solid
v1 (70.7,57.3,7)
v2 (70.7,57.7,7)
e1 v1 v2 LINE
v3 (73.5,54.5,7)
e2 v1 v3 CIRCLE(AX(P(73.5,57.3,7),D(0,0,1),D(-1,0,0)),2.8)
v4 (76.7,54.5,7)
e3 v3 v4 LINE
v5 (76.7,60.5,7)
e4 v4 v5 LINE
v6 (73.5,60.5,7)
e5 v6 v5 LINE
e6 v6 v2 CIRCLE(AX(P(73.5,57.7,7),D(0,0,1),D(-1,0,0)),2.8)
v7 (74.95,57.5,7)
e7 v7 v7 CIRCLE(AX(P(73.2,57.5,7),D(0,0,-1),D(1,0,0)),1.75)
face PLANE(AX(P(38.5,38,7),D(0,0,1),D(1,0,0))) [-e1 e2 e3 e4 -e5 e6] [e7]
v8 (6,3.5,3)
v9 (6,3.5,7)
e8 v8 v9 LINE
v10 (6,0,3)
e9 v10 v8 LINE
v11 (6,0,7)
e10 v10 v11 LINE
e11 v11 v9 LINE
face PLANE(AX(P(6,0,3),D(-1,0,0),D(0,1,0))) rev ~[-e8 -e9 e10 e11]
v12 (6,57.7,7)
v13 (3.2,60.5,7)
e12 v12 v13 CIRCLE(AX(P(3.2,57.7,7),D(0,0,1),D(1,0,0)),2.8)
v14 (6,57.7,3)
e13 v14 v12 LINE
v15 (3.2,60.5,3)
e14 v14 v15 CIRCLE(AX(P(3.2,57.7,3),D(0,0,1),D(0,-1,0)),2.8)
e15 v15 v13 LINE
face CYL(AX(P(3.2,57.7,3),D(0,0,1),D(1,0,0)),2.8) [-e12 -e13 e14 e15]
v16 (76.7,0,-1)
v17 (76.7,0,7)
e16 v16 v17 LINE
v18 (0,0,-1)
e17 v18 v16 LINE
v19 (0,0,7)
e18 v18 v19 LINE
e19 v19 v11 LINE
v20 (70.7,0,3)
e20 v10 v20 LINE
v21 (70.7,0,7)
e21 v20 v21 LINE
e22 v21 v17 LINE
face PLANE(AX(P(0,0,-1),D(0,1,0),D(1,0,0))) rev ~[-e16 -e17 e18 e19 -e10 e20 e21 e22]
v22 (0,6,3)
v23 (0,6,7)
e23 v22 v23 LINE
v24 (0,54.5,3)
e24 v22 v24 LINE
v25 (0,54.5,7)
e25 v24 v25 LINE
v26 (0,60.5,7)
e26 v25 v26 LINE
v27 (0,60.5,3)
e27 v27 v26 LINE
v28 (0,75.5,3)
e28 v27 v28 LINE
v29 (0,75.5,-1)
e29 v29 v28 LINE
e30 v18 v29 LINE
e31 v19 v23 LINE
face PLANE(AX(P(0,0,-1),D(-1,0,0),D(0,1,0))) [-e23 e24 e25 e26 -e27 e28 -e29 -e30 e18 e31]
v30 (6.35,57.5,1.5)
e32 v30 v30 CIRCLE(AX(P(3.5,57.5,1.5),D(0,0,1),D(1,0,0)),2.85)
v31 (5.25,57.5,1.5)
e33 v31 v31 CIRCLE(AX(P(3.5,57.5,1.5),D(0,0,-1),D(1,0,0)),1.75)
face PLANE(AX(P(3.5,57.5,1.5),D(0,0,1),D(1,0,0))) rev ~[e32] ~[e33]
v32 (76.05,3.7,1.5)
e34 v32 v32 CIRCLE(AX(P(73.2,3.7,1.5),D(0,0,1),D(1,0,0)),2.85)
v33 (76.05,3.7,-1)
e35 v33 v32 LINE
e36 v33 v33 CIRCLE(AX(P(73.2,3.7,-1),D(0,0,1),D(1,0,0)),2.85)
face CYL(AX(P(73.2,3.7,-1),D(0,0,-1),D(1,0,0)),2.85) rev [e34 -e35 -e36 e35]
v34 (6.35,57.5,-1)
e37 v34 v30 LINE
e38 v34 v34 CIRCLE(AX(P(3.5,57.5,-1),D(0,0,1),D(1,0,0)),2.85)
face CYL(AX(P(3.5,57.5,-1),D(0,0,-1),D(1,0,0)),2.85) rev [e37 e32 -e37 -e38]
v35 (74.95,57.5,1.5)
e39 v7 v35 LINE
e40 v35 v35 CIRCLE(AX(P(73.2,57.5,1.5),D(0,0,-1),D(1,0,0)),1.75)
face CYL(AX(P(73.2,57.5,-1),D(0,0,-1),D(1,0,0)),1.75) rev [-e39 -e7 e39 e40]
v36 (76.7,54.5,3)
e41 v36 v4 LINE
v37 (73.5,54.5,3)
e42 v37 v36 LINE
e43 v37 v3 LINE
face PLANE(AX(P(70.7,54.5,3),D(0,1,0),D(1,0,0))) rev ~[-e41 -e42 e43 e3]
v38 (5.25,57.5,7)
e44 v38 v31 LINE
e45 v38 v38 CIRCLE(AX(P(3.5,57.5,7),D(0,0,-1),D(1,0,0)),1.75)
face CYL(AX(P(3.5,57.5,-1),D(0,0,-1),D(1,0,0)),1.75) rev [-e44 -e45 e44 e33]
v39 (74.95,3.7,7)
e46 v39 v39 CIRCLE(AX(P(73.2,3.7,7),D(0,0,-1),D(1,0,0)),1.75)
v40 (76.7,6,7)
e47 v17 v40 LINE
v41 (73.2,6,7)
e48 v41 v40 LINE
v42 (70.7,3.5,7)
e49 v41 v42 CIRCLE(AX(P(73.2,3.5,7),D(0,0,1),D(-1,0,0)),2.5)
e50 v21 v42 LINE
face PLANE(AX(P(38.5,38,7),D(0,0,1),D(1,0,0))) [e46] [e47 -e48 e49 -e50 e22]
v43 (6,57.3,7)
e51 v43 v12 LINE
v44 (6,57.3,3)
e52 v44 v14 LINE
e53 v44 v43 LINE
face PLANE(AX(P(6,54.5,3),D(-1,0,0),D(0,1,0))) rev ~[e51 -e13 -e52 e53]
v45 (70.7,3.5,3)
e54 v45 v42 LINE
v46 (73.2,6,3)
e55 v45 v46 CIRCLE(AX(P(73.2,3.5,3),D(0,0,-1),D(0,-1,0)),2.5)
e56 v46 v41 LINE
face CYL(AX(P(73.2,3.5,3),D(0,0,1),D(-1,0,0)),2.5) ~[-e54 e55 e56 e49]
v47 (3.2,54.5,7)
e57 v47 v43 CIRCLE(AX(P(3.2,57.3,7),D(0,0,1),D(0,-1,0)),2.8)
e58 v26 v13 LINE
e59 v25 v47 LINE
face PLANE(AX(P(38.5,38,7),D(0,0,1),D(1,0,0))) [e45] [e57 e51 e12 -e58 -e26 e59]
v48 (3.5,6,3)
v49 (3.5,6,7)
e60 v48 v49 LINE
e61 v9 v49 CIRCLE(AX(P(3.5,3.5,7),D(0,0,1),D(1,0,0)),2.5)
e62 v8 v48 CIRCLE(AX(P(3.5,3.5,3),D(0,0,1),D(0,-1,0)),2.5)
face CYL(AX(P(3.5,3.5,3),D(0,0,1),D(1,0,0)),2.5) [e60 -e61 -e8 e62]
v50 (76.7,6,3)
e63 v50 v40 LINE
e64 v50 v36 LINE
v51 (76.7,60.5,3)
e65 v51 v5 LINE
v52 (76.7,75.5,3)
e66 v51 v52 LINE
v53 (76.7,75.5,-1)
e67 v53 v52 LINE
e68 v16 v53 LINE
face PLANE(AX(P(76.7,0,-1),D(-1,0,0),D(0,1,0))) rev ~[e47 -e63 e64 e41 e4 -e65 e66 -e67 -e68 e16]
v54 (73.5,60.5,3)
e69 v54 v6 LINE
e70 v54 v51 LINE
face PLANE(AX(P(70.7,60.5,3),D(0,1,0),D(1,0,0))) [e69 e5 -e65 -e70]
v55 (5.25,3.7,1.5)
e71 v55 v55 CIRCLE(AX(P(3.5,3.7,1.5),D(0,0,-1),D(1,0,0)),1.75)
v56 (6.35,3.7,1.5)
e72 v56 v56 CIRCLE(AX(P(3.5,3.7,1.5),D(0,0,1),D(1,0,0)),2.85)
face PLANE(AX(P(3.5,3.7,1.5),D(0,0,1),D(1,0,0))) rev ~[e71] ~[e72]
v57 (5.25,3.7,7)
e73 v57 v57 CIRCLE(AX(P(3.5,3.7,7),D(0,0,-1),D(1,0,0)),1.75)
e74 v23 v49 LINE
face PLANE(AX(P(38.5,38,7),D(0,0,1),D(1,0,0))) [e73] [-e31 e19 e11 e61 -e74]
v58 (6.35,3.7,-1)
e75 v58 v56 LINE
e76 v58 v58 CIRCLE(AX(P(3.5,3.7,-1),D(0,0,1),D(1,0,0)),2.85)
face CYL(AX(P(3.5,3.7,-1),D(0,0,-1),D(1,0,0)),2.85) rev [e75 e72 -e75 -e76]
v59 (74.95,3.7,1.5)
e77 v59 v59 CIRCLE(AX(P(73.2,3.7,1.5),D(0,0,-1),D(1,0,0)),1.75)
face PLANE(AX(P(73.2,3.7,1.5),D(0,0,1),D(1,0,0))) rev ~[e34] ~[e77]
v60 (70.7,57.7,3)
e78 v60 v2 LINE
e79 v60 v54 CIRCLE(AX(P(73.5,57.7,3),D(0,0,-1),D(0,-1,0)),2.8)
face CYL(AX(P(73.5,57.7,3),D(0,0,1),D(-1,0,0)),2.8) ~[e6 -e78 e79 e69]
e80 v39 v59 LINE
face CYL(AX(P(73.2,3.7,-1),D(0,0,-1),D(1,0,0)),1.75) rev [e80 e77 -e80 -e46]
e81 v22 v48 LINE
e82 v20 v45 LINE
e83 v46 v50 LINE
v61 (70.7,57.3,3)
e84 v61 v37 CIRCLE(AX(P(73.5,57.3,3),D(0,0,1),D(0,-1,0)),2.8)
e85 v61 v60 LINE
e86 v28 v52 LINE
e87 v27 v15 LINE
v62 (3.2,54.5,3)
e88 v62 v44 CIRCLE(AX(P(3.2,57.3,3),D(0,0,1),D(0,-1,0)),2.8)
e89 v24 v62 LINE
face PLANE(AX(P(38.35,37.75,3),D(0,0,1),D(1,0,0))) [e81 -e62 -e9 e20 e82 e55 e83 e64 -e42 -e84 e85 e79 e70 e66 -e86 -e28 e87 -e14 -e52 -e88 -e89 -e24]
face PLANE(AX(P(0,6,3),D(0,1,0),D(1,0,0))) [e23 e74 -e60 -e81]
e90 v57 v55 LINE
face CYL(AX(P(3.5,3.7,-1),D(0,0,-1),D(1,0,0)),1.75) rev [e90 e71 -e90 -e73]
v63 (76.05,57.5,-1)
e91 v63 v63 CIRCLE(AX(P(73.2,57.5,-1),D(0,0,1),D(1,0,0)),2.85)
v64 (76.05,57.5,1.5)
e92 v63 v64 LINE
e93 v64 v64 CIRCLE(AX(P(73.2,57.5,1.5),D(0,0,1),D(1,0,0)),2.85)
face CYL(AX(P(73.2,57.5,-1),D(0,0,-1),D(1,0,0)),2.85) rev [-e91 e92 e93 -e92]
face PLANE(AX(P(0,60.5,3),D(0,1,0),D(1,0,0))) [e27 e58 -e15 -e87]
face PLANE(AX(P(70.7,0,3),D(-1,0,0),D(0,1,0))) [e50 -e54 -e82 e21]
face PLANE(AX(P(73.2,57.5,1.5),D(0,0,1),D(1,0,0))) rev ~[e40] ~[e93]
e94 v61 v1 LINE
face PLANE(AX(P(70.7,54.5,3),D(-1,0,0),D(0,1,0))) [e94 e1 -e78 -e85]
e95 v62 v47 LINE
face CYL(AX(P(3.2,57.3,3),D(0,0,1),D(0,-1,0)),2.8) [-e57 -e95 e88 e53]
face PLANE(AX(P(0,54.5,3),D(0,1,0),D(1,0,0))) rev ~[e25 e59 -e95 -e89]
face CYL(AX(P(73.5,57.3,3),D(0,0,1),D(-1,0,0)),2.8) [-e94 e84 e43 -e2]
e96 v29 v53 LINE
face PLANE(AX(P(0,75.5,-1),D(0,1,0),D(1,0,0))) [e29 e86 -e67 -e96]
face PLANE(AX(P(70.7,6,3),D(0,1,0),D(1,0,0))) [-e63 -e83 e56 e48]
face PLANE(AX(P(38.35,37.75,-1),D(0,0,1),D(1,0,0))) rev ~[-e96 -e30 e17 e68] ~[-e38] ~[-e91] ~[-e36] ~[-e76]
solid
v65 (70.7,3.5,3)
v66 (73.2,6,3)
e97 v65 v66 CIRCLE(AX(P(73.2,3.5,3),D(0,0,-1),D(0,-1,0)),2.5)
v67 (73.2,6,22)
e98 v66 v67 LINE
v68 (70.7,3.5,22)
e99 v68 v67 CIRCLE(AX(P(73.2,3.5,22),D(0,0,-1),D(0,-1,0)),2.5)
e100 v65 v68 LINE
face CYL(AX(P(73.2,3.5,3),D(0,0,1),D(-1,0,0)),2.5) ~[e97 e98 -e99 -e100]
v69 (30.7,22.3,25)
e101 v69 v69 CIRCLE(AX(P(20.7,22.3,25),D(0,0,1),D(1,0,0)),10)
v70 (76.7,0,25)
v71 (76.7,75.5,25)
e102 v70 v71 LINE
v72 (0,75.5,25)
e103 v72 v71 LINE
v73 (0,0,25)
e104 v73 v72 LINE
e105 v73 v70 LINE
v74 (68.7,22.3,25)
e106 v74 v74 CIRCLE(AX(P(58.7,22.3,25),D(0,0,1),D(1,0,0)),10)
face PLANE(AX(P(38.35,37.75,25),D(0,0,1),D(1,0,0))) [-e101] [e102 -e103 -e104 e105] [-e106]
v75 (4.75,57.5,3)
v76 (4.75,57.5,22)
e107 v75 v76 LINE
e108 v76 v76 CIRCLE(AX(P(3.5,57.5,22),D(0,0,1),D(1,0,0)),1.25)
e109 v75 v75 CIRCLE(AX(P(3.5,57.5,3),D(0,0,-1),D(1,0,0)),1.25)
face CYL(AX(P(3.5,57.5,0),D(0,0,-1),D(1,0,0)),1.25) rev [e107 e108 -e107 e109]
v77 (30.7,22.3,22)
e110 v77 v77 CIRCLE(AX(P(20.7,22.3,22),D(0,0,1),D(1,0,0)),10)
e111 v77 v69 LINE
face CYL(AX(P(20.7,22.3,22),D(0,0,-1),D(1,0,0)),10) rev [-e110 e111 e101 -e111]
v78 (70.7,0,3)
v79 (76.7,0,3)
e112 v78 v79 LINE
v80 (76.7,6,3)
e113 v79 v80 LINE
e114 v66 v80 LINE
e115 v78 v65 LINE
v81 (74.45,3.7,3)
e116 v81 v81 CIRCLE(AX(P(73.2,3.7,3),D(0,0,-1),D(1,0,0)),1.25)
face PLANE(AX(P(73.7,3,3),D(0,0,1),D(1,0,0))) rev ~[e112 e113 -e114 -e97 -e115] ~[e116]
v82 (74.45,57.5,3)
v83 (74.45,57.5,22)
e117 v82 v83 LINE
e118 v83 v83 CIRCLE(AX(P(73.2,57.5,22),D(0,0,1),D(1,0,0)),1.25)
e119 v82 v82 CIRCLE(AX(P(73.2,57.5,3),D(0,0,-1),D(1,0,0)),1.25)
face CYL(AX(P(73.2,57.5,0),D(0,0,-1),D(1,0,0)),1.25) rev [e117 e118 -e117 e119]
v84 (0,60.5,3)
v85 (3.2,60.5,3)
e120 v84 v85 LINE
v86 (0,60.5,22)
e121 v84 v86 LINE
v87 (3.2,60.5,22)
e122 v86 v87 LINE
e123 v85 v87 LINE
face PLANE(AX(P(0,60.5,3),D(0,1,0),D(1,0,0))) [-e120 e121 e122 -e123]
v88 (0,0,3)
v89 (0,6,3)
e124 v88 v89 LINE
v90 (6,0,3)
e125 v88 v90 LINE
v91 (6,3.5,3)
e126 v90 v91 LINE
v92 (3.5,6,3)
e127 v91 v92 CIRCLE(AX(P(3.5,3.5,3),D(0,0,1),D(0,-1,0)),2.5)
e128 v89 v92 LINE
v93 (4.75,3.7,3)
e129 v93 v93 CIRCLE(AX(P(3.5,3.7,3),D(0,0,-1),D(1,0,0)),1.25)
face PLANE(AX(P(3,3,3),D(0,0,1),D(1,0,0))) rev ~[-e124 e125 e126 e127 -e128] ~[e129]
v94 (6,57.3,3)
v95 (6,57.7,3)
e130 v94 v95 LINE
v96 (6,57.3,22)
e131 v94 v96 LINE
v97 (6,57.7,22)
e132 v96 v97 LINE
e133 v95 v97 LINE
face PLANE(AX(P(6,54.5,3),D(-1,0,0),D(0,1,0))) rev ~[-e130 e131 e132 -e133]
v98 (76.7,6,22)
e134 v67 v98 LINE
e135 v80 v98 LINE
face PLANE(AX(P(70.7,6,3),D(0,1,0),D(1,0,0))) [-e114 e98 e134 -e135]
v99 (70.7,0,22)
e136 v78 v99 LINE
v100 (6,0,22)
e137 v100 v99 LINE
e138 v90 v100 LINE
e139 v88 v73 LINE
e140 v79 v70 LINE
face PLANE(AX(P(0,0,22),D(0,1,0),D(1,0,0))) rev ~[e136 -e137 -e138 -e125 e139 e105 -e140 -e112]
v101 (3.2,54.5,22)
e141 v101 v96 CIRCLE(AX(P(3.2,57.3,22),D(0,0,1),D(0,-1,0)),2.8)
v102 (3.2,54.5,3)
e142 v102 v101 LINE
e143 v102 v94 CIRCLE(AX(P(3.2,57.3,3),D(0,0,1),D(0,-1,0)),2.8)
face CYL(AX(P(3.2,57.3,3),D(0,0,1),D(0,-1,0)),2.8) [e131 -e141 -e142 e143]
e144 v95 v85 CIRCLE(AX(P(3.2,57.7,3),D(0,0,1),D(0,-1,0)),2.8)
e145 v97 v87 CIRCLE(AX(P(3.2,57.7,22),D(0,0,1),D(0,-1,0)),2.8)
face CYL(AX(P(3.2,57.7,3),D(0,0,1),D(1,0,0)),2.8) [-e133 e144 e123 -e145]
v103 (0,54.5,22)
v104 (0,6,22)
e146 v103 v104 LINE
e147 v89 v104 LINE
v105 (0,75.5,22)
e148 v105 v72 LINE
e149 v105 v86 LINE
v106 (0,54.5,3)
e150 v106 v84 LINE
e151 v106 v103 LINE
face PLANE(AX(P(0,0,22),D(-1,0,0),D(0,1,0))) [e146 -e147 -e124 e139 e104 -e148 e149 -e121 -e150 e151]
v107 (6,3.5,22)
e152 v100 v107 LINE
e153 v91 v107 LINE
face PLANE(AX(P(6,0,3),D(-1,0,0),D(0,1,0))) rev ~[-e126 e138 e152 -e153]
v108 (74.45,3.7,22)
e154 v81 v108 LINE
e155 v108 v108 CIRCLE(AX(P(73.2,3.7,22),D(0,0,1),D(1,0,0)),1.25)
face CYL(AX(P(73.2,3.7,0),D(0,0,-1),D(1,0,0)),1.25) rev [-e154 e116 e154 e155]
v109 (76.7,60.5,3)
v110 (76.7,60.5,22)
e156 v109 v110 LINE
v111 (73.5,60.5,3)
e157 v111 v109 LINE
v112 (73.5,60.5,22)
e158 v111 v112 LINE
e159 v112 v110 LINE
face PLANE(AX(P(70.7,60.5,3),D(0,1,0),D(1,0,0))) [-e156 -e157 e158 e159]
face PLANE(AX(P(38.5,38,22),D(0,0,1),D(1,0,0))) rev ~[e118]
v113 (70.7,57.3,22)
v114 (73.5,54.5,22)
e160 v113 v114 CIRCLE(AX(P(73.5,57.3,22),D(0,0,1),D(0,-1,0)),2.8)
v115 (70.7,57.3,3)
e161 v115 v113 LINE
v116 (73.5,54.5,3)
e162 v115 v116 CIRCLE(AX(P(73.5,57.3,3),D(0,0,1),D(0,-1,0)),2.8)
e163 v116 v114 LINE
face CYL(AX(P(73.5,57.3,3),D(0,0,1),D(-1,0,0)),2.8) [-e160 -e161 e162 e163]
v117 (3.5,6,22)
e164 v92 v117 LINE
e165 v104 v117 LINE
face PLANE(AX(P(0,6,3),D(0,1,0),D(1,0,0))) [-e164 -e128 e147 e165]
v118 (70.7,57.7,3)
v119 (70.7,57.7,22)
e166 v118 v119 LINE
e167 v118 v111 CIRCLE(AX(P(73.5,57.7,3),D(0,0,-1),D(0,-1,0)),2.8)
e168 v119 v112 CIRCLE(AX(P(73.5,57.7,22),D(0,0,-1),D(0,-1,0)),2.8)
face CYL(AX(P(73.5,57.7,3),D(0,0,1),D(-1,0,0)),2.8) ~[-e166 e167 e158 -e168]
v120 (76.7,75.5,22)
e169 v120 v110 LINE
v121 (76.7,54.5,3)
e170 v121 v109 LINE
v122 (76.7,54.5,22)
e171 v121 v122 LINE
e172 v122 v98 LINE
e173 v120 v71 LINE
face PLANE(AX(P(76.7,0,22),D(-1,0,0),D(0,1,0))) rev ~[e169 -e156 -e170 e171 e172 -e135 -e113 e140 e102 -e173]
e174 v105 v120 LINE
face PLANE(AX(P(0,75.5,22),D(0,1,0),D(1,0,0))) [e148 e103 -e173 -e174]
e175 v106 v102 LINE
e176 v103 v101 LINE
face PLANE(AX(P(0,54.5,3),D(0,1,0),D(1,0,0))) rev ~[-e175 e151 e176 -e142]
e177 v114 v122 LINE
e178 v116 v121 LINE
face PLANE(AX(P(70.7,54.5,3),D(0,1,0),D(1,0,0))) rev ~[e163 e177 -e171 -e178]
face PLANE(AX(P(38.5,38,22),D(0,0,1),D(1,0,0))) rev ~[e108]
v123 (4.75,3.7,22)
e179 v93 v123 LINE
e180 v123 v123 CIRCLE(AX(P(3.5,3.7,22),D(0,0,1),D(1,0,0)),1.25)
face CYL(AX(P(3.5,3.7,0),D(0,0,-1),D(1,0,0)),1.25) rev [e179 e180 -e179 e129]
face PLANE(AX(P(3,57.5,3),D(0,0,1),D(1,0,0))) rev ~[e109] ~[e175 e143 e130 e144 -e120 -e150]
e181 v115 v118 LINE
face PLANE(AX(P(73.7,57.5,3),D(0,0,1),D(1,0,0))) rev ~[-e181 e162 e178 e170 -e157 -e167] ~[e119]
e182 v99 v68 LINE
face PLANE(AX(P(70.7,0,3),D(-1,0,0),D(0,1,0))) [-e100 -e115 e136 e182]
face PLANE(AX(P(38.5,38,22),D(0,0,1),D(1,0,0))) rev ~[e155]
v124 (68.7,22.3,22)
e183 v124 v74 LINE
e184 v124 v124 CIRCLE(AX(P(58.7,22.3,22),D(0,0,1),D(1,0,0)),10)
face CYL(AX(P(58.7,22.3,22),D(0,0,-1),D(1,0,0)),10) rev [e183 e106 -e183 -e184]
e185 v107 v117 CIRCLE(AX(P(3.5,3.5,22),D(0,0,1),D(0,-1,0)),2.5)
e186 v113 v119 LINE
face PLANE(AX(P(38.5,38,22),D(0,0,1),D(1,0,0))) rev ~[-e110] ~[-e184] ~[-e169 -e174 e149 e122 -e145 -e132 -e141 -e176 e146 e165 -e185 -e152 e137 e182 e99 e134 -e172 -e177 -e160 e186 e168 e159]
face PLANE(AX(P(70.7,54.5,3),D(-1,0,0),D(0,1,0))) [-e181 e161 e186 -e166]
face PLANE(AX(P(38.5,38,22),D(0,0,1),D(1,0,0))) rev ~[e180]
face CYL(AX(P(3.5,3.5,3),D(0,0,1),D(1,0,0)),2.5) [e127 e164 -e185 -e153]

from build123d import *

# Parameters (mm, degrees)
BOX020_W          = 7
BOX020_H          = 70
BOX020_DEPTH      = 3
BOX021_W          = 7
BOX021_H          = 70
BOX021_DEPTH      = 3
BOX019_W          = 76.7
BOX019_H          = 7
BOX019_DEPTH      = 3
BOX013_W          = 77
BOX013_H          = 76
BOX013_DEPTH      = 22
CYLINDER005_R     = 1.25
CYLINDER005_DEPTH = 22
CYLINDER007_R     = 1.25
CYLINDER007_DEPTH = 22
CYLINDER008_R     = 1.25
CYLINDER008_DEPTH = 22
CYLINDER006_R     = 1.25
CYLINDER006_DEPTH = 22
BOX012_W          = 6
BOX012_H          = 6
BOX012_DEPTH      = 19
FILLET005_R       = 2.8
BOX011_W          = 6
BOX011_H          = 6
BOX011_DEPTH      = 19
FILLET006_R       = 2.8
BOX010_W          = 6
BOX010_H          = 6
BOX010_DEPTH      = 19
FILLET007_R       = 2.5
SKETCH001_W       = 76.7
SKETCH001_H       = 75.5
SKETCH001_R       = 10
SKETCH001_R_2     = 1.75
EXTRUDE001_DEPTH  = 3
BOX009_W          = 6
BOX009_H          = 6
BOX009_DEPTH      = 19
FILLET004_R       = 2.5
BOX008_W          = 77
BOX008_H          = 76
BOX008_DEPTH      = 22
CYLINDER_R        = 1.25
CYLINDER_DEPTH    = 22
CYLINDER001_R     = 1.25
CYLINDER001_DEPTH = 22
CYLINDER003_R     = 1.25
CYLINDER003_DEPTH = 22
CYLINDER004_R     = 1.25
CYLINDER004_DEPTH = 22
BOX003_W          = 6
BOX003_H          = 6
BOX003_DEPTH      = 19
FILLET001_R       = 2.8
BOX002_W          = 6
BOX002_H          = 6
BOX002_DEPTH      = 19
FILLET002_R       = 2.8
BOX001_W          = 6
BOX001_H          = 6
BOX001_DEPTH      = 19
FILLET003_R       = 2.5
SKETCH_W          = 76.7
SKETCH_H          = 75.5
SKETCH_R          = 10
SKETCH_R_2        = 1.75
EXTRUDE_DEPTH     = 3
BOX_W             = 6
BOX_H             = 6
BOX_DEPTH         = 19
FILLET_R          = 2.5
BOX022_W          = 77
BOX022_H          = 76
BOX022_DEPTH      = 20
CYLINDER015_R     = 1.75
CYLINDER015_DEPTH = 15.8
CYLINDER016_R     = 2.85
CYLINDER016_DEPTH = 2.5
CYLINDER017_R     = 1.75
CYLINDER017_DEPTH = 15.8
CYLINDER018_R     = 2.85
CYLINDER018_DEPTH = 2.5
CYLINDER019_R     = 1.75
CYLINDER019_DEPTH = 15.8
CYLINDER020_R     = 2.85
CYLINDER020_DEPTH = 2.5
CYLINDER014_R     = 1.75
CYLINDER014_DEPTH = 15.8
CYLINDER013_R     = 2.85
CYLINDER013_DEPTH = 2.5
SKETCH002_W       = 76.7
SKETCH002_H       = 75.5
SKETCH002_R       = 1.75
EXTRUDE002_DEPTH  = 4
BOX018_W          = 77
BOX018_H          = 76
BOX018_DEPTH      = 22
CYLINDER009_R     = 1.75
CYLINDER009_DEPTH = 22
CYLINDER011_R     = 1.75
CYLINDER011_DEPTH = 22
CYLINDER012_R     = 1.75
CYLINDER012_DEPTH = 22
CYLINDER010_R     = 1.75
CYLINDER010_DEPTH = 22
BOX017_W          = 6
BOX017_H          = 6
BOX017_DEPTH      = 19
FILLET009_R       = 2.8
BOX016_W          = 6
BOX016_H          = 6
BOX016_DEPTH      = 19
FILLET010_R       = 2.8
BOX015_W          = 6
BOX015_H          = 6
BOX015_DEPTH      = 19
FILLET011_R       = 2.5
SKETCH003_W       = 76.7
SKETCH003_H       = 75.5
SKETCH003_R       = 10
SKETCH003_R_2     = 1.75
EXTRUDE003_DEPTH  = 3
BOX014_W          = 6
BOX014_H          = 6
BOX014_DEPTH      = 19
FILLET008_R       = 2.5


with BuildPart() as hole_filler_vert:
    # Box020 → Box020 (new body)
    with BuildSketch(Plane.XY):
        with Locations((3.5, 35)):
            Rectangle(BOX020_W, BOX020_H)
    extrude(amount=BOX020_DEPTH)


with BuildPart() as hole_filler_vert001:
    # Box021 → Box021 (new body)
    with BuildSketch(Plane(origin=(69.7, 0, 0), x_dir=(1, 0, 0), z_dir=(0, 0, 1))):
        with Locations((3.5, 35)):
            Rectangle(BOX021_W, BOX021_H)
    extrude(amount=BOX021_DEPTH)


with BuildPart() as screw_hole_filler:
    # Box019 → Box019 (new body)
    with BuildSketch(Plane.XY):
        with Locations((38.35, 3.5)):
            Rectangle(BOX019_W, BOX019_H)
    extrude(amount=BOX019_DEPTH)

    # Fusion003: union hole-filler-vert, hole-filler-vert001
    add(hole_filler_vert.part)
    add(hole_filler_vert001.part)


with BuildPart() as screw_hole_filler_1:
    # Fusion003 placement: moved
    add(screw_hole_filler.part.moved(Location((0, 0, 22))))


with BuildPart() as slicing_cube001:
    # Box013 → Box013 (new body)
    with BuildSketch(Plane.XY):
        with Locations((38.5, 38)):
            Rectangle(BOX013_W, BOX013_H)
    extrude(amount=BOX013_DEPTH)


with BuildPart() as threaded_cutout_bl001:
    # Cylinder005 → Cylinder005 (new body)
    with BuildSketch(Plane(origin=(3.5, 3.7, 0), x_dir=(1, 0, 0), z_dir=(0, 0, 1))):
        Circle(CYLINDER005_R)
    extrude(amount=CYLINDER005_DEPTH)


with BuildPart() as threaded_cutout_br001:
    # Cylinder007 → Cylinder007 (new body)
    with BuildSketch(Plane(origin=(73.2, 3.7, 0), x_dir=(1, 0, 0), z_dir=(0, 0, 1))):
        Circle(CYLINDER007_R)
    extrude(amount=CYLINDER007_DEPTH)


with BuildPart() as threaded_cutout_tl001:
    # Cylinder008 → Cylinder008 (new body)
    with BuildSketch(Plane(origin=(3.5, 57.5, 0), x_dir=(1, 0, 0), z_dir=(0, 0, 1))):
        Circle(CYLINDER008_R)
    extrude(amount=CYLINDER008_DEPTH)


with BuildPart() as threaded_cutout_tr001:
    # Cylinder006 → Cylinder006 (new body)
    with BuildSketch(Plane(origin=(73.2, 57.5, 0), x_dir=(1, 0, 0), z_dir=(0, 0, 1))):
        Circle(CYLINDER006_R)
    extrude(amount=CYLINDER006_DEPTH)


with BuildPart() as fillet005:
    # Box012 → Box012 (new body)
    with BuildSketch(Plane(origin=(0, 54.5, 3), x_dir=(1, 0, 0), z_dir=(0, 0, 1))):
        with Locations((3, 3)):
            Rectangle(BOX012_W, BOX012_H)
    extrude(amount=BOX012_DEPTH)

    # Fillet005
    fillet005_edges = [fillet005.edges().sort_by_distance(p)[0] for p in [
        (6, 54.5, 12.5),
        (6, 60.5, 12.5),
    ]]
    fillet(fillet005_edges, radius=FILLET005_R)


with BuildPart() as fillet006:
    # Box011 → Box011 (new body)
    with BuildSketch(Plane(origin=(70.7, 54.5, 3), x_dir=(1, 0, 0), z_dir=(0, 0, 1))):
        with Locations((3, 3)):
            Rectangle(BOX011_W, BOX011_H)
    extrude(amount=BOX011_DEPTH)

    # Fillet006
    fillet006_edges = [fillet006.edges().sort_by_distance(p)[0] for p in [
        (70.7, 54.5, 12.5),
        (70.7, 60.5, 12.5),
    ]]
    fillet(fillet006_edges, radius=FILLET006_R)


with BuildPart() as fillet007:
    # Box010 → Box010 (new body)
    with BuildSketch(Plane(origin=(70.7, 0, 3), x_dir=(1, 0, 0), z_dir=(0, 0, 1))):
        with Locations((3, 3)):
            Rectangle(BOX010_W, BOX010_H)
    extrude(amount=BOX010_DEPTH)

    # Fillet007
    fillet007_edges = [fillet007.edges().sort_by_distance(p)[0] for p in [
        (70.7, 6, 12.5),
    ]]
    fillet(fillet007_edges, radius=FILLET007_R)


with BuildPart() as vacuum_tube_top_plate001:
    # Sketch001 → Extrude001 (new body)
    with BuildSketch(Plane.XY):
        with Locations((38.35, 37.75)):
            Rectangle(SKETCH001_W, SKETCH001_H)
        with Locations((58.7, 22.3)):
            Circle(SKETCH001_R, mode=Mode.SUBTRACT)
        with Locations((20.7, 22.3)):
            Circle(SKETCH001_R, mode=Mode.SUBTRACT)
        with Locations((3.5, 3.7)):
            Circle(SKETCH001_R_2, mode=Mode.SUBTRACT)
        with Locations((73.2, 3.7)):
            Circle(SKETCH001_R_2, mode=Mode.SUBTRACT)
        with Locations((3.5, 57.5)):
            Circle(SKETCH001_R_2, mode=Mode.SUBTRACT)
        with Locations((73.2, 57.5)):
            Circle(SKETCH001_R_2, mode=Mode.SUBTRACT)
    extrude(amount=EXTRUDE001_DEPTH)


with BuildPart() as vacuum_tube_top_plate001_1:
    # Extrude001 placement: moved
    add(vacuum_tube_top_plate001.part.moved(Location((0, 0, 22))))


with BuildPart() as top_plate_without_holes:
    # Box009 → Box009 (new body)
    with BuildSketch(Plane.XY.offset(3)):
        with Locations((3, 3)):
            Rectangle(BOX009_W, BOX009_H)
    extrude(amount=BOX009_DEPTH)

    # Fillet004
    fillet004_edges = [top_plate_without_holes.edges().sort_by_distance(p)[0] for p in [
        (6, 6, 12.5),
    ]]
    fillet(fillet004_edges, radius=FILLET004_R)

    # Fusion001: union Fillet005, Fillet006, Fillet007, vacuum-tube-top-plate001
    add(fillet005.part)
    add(fillet006.part)
    add(fillet007.part)
    add(vacuum_tube_top_plate001_1.part)

    # Cut005: cut threaded-cutout-tr001
    add(threaded_cutout_tr001.part, mode=Mode.SUBTRACT)

    # Cut004: cut threaded-cutout-tl001
    add(threaded_cutout_tl001.part, mode=Mode.SUBTRACT)

    # Cut006: cut threaded-cutout-br001
    add(threaded_cutout_br001.part, mode=Mode.SUBTRACT)

    # Cut007: cut threaded-cutout-bl001
    add(threaded_cutout_bl001.part, mode=Mode.SUBTRACT)

    # Cut008: cut slicing-cube001
    add(slicing_cube001.part, mode=Mode.SUBTRACT)

    # Fusion004: union screw-hole-filler
    add(screw_hole_filler_1.part)


with BuildPart() as slicing_cube:
    # Box008 → Box008 (new body)
    with BuildSketch(Plane.XY.offset(22)):
        with Locations((38.5, 38)):
            Rectangle(BOX008_W, BOX008_H)
    extrude(amount=BOX008_DEPTH)


with BuildPart() as threaded_cutout_bl:
    # Cylinder → Cylinder (new body)
    with BuildSketch(Plane(origin=(3.5, 3.7, 0), x_dir=(1, 0, 0), z_dir=(0, 0, 1))):
        Circle(CYLINDER_R)
    extrude(amount=CYLINDER_DEPTH)


with BuildPart() as threaded_cutout_br:
    # Cylinder001 → Cylinder001 (new body)
    with BuildSketch(Plane(origin=(73.2, 3.7, 0), x_dir=(1, 0, 0), z_dir=(0, 0, 1))):
        Circle(CYLINDER001_R)
    extrude(amount=CYLINDER001_DEPTH)


with BuildPart() as threaded_cutout_tl:
    # Cylinder003 → Cylinder003 (new body)
    with BuildSketch(Plane(origin=(3.5, 57.5, 0), x_dir=(1, 0, 0), z_dir=(0, 0, 1))):
        Circle(CYLINDER003_R)
    extrude(amount=CYLINDER003_DEPTH)


with BuildPart() as threaded_cutout_tr:
    # Cylinder004 → Cylinder004 (new body)
    with BuildSketch(Plane(origin=(73.2, 57.5, 0), x_dir=(1, 0, 0), z_dir=(0, 0, 1))):
        Circle(CYLINDER004_R)
    extrude(amount=CYLINDER004_DEPTH)


with BuildPart() as fillet001:
    # Box003 → Box003 (new body)
    with BuildSketch(Plane(origin=(0, 54.5, 3), x_dir=(1, 0, 0), z_dir=(0, 0, 1))):
        with Locations((3, 3)):
            Rectangle(BOX003_W, BOX003_H)
    extrude(amount=BOX003_DEPTH)

    # Fillet001
    fillet001_edges = [fillet001.edges().sort_by_distance(p)[0] for p in [
        (6, 54.5, 12.5),
        (6, 60.5, 12.5),
    ]]
    fillet(fillet001_edges, radius=FILLET001_R)


with BuildPart() as fillet002:
    # Box002 → Box002 (new body)
    with BuildSketch(Plane(origin=(70.7, 54.5, 3), x_dir=(1, 0, 0), z_dir=(0, 0, 1))):
        with Locations((3, 3)):
            Rectangle(BOX002_W, BOX002_H)
    extrude(amount=BOX002_DEPTH)

    # Fillet002
    fillet002_edges = [fillet002.edges().sort_by_distance(p)[0] for p in [
        (70.7, 54.5, 12.5),
        (70.7, 60.5, 12.5),
    ]]
    fillet(fillet002_edges, radius=FILLET002_R)


with BuildPart() as fillet003:
    # Box001 → Box001 (new body)
    with BuildSketch(Plane(origin=(70.7, 0, 3), x_dir=(1, 0, 0), z_dir=(0, 0, 1))):
        with Locations((3, 3)):
            Rectangle(BOX001_W, BOX001_H)
    extrude(amount=BOX001_DEPTH)

    # Fillet003
    fillet003_edges = [fillet003.edges().sort_by_distance(p)[0] for p in [
        (70.7, 6, 12.5),
    ]]
    fillet(fillet003_edges, radius=FILLET003_R)


with BuildPart() as vacuum_tube_top_plate:
    # Sketch → Extrude (new body)
    with BuildSketch(Plane.XY):
        with Locations((38.35, 37.75)):
            Rectangle(SKETCH_W, SKETCH_H)
        with Locations((58.7, 22.3)):
            Circle(SKETCH_R, mode=Mode.SUBTRACT)
        with Locations((20.7, 22.3)):
            Circle(SKETCH_R, mode=Mode.SUBTRACT)
        with Locations((3.5, 3.7)):
            Circle(SKETCH_R_2, mode=Mode.SUBTRACT)
        with Locations((73.2, 3.7)):
            Circle(SKETCH_R_2, mode=Mode.SUBTRACT)
        with Locations((3.5, 57.5)):
            Circle(SKETCH_R_2, mode=Mode.SUBTRACT)
        with Locations((73.2, 57.5)):
            Circle(SKETCH_R_2, mode=Mode.SUBTRACT)
    extrude(amount=EXTRUDE_DEPTH)


with BuildPart() as vacuum_tube_top_plate_1:
    # Extrude placement: moved
    add(vacuum_tube_top_plate.part.moved(Location((0, 0, 22))))


with BuildPart() as just_top_plate_with_legs:
    # Box → Box (new body)
    with BuildSketch(Plane.XY.offset(3)):
        with Locations((3, 3)):
            Rectangle(BOX_W, BOX_H)
    extrude(amount=BOX_DEPTH)

    # Fillet
    fillet_edges = [just_top_plate_with_legs.edges().sort_by_distance(p)[0] for p in [
        (6, 6, 12.5),
    ]]
    fillet(fillet_edges, radius=FILLET_R)

    # Fusion: union Fillet001, Fillet002, Fillet003, vacuum-tube-top-plate
    add(fillet001.part)
    add(fillet002.part)
    add(fillet003.part)
    add(vacuum_tube_top_plate_1.part)

    # Cut: cut threaded-cutout-tr
    add(threaded_cutout_tr.part, mode=Mode.SUBTRACT)

    # Cut001: cut threaded-cutout-tl
    add(threaded_cutout_tl.part, mode=Mode.SUBTRACT)

    # Cut002: cut threaded-cutout-br
    add(threaded_cutout_br.part, mode=Mode.SUBTRACT)

    # Cut003: cut threaded-cutout-bl
    add(threaded_cutout_bl.part, mode=Mode.SUBTRACT)

    # Cut009: cut slicing-cube
    add(slicing_cube.part, mode=Mode.SUBTRACT)

    # Fusion005: union top-plate-without-holes]
    add(top_plate_without_holes.part)


with BuildPart() as cube:
    # Box022 → Box022 (new body)
    with BuildSketch(Plane.XY.offset(7)):
        with Locations((38.5, 38)):
            Rectangle(BOX022_W, BOX022_H)
    extrude(amount=BOX022_DEPTH)


with BuildPart() as m3x10_screws_unthreaded001:
    # Cylinder015 → Cylinder015 (new body)
    with BuildSketch(Plane.XY.offset(2)):
        Circle(CYLINDER015_R)
    extrude(amount=CYLINDER015_DEPTH)


with BuildPart() as m3x10_unthreaded_cutout001:
    # Cylinder016 → Cylinder016 (new body)
    with BuildSketch(Plane.XY):
        Circle(CYLINDER016_R)
    extrude(amount=CYLINDER016_DEPTH)

    # Fusion007: union m3x10-screws-unthreaded001
    add(m3x10_screws_unthreaded001.part)


with BuildPart() as m3x10_unthreaded_cutout001_1:
    # Fusion007 placement: moved
    add(m3x10_unthreaded_cutout001.part.moved(Location((73.2, 3.7, -1))))


with BuildPart() as m3x10_screws_unthreaded002:
    # Cylinder017 → Cylinder017 (new body)
    with BuildSketch(Plane.XY.offset(2)):
        Circle(CYLINDER017_R)
    extrude(amount=CYLINDER017_DEPTH)


with BuildPart() as m3x10_unthreaded_cutout002:
    # Cylinder018 → Cylinder018 (new body)
    with BuildSketch(Plane.XY):
        Circle(CYLINDER018_R)
    extrude(amount=CYLINDER018_DEPTH)

    # Fusion008: union m3x10-screws-unthreaded002
    add(m3x10_screws_unthreaded002.part)


with BuildPart() as m3x10_unthreaded_cutout002_1:
    # Fusion008 placement: moved
    add(m3x10_unthreaded_cutout002.part.moved(Location((73.2, 57.5, -1))))


with BuildPart() as m3x10_screws_unthreaded003:
    # Cylinder019 → Cylinder019 (new body)
    with BuildSketch(Plane.XY.offset(2)):
        Circle(CYLINDER019_R)
    extrude(amount=CYLINDER019_DEPTH)


with BuildPart() as m3x10_unthreaded_cutout003:
    # Cylinder020 → Cylinder020 (new body)
    with BuildSketch(Plane.XY):
        Circle(CYLINDER020_R)
    extrude(amount=CYLINDER020_DEPTH)

    # Fusion009: union m3x10-screws-unthreaded003
    add(m3x10_screws_unthreaded003.part)


with BuildPart() as m3x10_unthreaded_cutout003_1:
    # Fusion009 placement: moved
    add(m3x10_unthreaded_cutout003.part.moved(Location((3.5, 57.5, -1))))


with BuildPart() as m3x10_screws_unthreaded:
    # Cylinder014 → Cylinder014 (new body)
    with BuildSketch(Plane.XY.offset(2)):
        Circle(CYLINDER014_R)
    extrude(amount=CYLINDER014_DEPTH)


with BuildPart() as compound:
    # Cylinder013 → Cylinder013 (new body)
    with BuildSketch(Plane.XY):
        Circle(CYLINDER013_R)
    extrude(amount=CYLINDER013_DEPTH)

    # Fusion006: union m3x10-screws-unthreaded
    add(m3x10_screws_unthreaded.part)


with BuildPart() as compound_1:
    # Fusion006 placement: moved
    add(compound.part.moved(Location((3.5, 3.7, -1))))

    # Compound: union m3x10-unthreaded-cutout001, m3x10-unthreaded-cutout002, m3x10-unthreaded-cutout003
    add(m3x10_unthreaded_cutout001_1.part)
    add(m3x10_unthreaded_cutout002_1.part)
    add(m3x10_unthreaded_cutout003_1.part)


with BuildPart() as just_bottom_plate:
    # Sketch002 → Extrude002 (new body)
    with BuildSketch(Plane.XY):
        with Locations((38.35, 37.75)):
            Rectangle(SKETCH002_W, SKETCH002_H)
        with Locations((3.5, 3.7)):
            Circle(SKETCH002_R, mode=Mode.SUBTRACT)
        with Locations((73.2, 3.7)):
            Circle(SKETCH002_R, mode=Mode.SUBTRACT)
        with Locations((3.5, 57.5)):
            Circle(SKETCH002_R, mode=Mode.SUBTRACT)
        with Locations((73.2, 57.5)):
            Circle(SKETCH002_R, mode=Mode.SUBTRACT)
    extrude(amount=EXTRUDE002_DEPTH)


with BuildPart() as just_bottom_plate_1:
    # Extrude002 placement: moved
    add(just_bottom_plate.part.moved(Location((0, 0, -1))))


with BuildPart() as slicing_cube002:
    # Box018 → Box018 (new body)
    with BuildSketch(Plane.XY.offset(22)):
        with Locations((38.5, 38)):
            Rectangle(BOX018_W, BOX018_H)
    extrude(amount=BOX018_DEPTH)


with BuildPart() as threaded_cutout_bl002:
    # Cylinder009 → Cylinder009 (new body)
    with BuildSketch(Plane(origin=(3.5, 3.7, 0), x_dir=(1, 0, 0), z_dir=(0, 0, 1))):
        Circle(CYLINDER009_R)
    extrude(amount=CYLINDER009_DEPTH)


with BuildPart() as threaded_cutout_br002:
    # Cylinder011 → Cylinder011 (new body)
    with BuildSketch(Plane(origin=(73.2, 3.7, 0), x_dir=(1, 0, 0), z_dir=(0, 0, 1))):
        Circle(CYLINDER011_R)
    extrude(amount=CYLINDER011_DEPTH)


with BuildPart() as threaded_cutout_tl002:
    # Cylinder012 → Cylinder012 (new body)
    with BuildSketch(Plane(origin=(3.5, 57.5, 0), x_dir=(1, 0, 0), z_dir=(0, 0, 1))):
        Circle(CYLINDER012_R)
    extrude(amount=CYLINDER012_DEPTH)


with BuildPart() as threaded_cutout_tr002:
    # Cylinder010 → Cylinder010 (new body)
    with BuildSketch(Plane(origin=(73.2, 57.5, 0), x_dir=(1, 0, 0), z_dir=(0, 0, 1))):
        Circle(CYLINDER010_R)
    extrude(amount=CYLINDER010_DEPTH)


with BuildPart() as fillet009:
    # Box017 → Box017 (new body)
    with BuildSketch(Plane(origin=(0, 54.5, 3), x_dir=(1, 0, 0), z_dir=(0, 0, 1))):
        with Locations((3, 3)):
            Rectangle(BOX017_W, BOX017_H)
    extrude(amount=BOX017_DEPTH)

    # Fillet009
    fillet009_edges = [fillet009.edges().sort_by_distance(p)[0] for p in [
        (6, 54.5, 12.5),
        (6, 60.5, 12.5),
    ]]
    fillet(fillet009_edges, radius=FILLET009_R)


with BuildPart() as fillet010:
    # Box016 → Box016 (new body)
    with BuildSketch(Plane(origin=(70.7, 54.5, 3), x_dir=(1, 0, 0), z_dir=(0, 0, 1))):
        with Locations((3, 3)):
            Rectangle(BOX016_W, BOX016_H)
    extrude(amount=BOX016_DEPTH)

    # Fillet010
    fillet010_edges = [fillet010.edges().sort_by_distance(p)[0] for p in [
        (70.7, 54.5, 12.5),
        (70.7, 60.5, 12.5),
    ]]
    fillet(fillet010_edges, radius=FILLET010_R)


with BuildPart() as fillet011:
    # Box015 → Box015 (new body)
    with BuildSketch(Plane(origin=(70.7, 0, 3), x_dir=(1, 0, 0), z_dir=(0, 0, 1))):
        with Locations((3, 3)):
            Rectangle(BOX015_W, BOX015_H)
    extrude(amount=BOX015_DEPTH)

    # Fillet011
    fillet011_edges = [fillet011.edges().sort_by_distance(p)[0] for p in [
        (70.7, 6, 12.5),
    ]]
    fillet(fillet011_edges, radius=FILLET011_R)


with BuildPart() as vacuum_tube_top_plate002:
    # Sketch003 → Extrude003 (new body)
    with BuildSketch(Plane.XY):
        with Locations((38.35, 37.75)):
            Rectangle(SKETCH003_W, SKETCH003_H)
        with Locations((58.7, 22.3)):
            Circle(SKETCH003_R, mode=Mode.SUBTRACT)
        with Locations((20.7, 22.3)):
            Circle(SKETCH003_R, mode=Mode.SUBTRACT)
        with Locations((3.5, 3.7)):
            Circle(SKETCH003_R_2, mode=Mode.SUBTRACT)
        with Locations((73.2, 3.7)):
            Circle(SKETCH003_R_2, mode=Mode.SUBTRACT)
        with Locations((3.5, 57.5)):
            Circle(SKETCH003_R_2, mode=Mode.SUBTRACT)
        with Locations((73.2, 57.5)):
            Circle(SKETCH003_R_2, mode=Mode.SUBTRACT)
    extrude(amount=EXTRUDE003_DEPTH)


with BuildPart() as vacuum_tube_top_plate002_1:
    # Extrude003 placement: moved
    add(vacuum_tube_top_plate002.part.moved(Location((0, 0, 22))))


with BuildPart() as just_bottom_plate_with_legs:
    # Box014 → Box014 (new body)
    with BuildSketch(Plane.XY.offset(3)):
        with Locations((3, 3)):
            Rectangle(BOX014_W, BOX014_H)
    extrude(amount=BOX014_DEPTH)

    # Fillet008
    fillet008_edges = [just_bottom_plate_with_legs.edges().sort_by_distance(p)[0] for p in [
        (6, 6, 12.5),
    ]]
    fillet(fillet008_edges, radius=FILLET008_R)

    # Fusion002: union Fillet009, Fillet010, Fillet011, vacuum-tube-top-plate002
    add(fillet009.part)
    add(fillet010.part)
    add(fillet011.part)
    add(vacuum_tube_top_plate002_1.part)

    # Cut011: cut threaded-cutout-tr002
    add(threaded_cutout_tr002.part, mode=Mode.SUBTRACT)

    # Cut010: cut threaded-cutout-tl002
    add(threaded_cutout_tl002.part, mode=Mode.SUBTRACT)

    # Cut012: cut threaded-cutout-br002
    add(threaded_cutout_br002.part, mode=Mode.SUBTRACT)

    # Cut013: cut threaded-cutout-bl002
    add(threaded_cutout_bl002.part, mode=Mode.SUBTRACT)

    # Cut014: cut slicing-cube002
    add(slicing_cube002.part, mode=Mode.SUBTRACT)

    # Fusion010: union just-bottom-plate
    add(just_bottom_plate_1.part)

    # Cut015: cut Compound
    add(compound_1.part, mode=Mode.SUBTRACT)

    # Cut016: cut Cube
    add(cube.part, mode=Mode.SUBTRACT)


solid = Compound([just_top_plate_with_legs.part, just_bottom_plate_with_legs.part])
